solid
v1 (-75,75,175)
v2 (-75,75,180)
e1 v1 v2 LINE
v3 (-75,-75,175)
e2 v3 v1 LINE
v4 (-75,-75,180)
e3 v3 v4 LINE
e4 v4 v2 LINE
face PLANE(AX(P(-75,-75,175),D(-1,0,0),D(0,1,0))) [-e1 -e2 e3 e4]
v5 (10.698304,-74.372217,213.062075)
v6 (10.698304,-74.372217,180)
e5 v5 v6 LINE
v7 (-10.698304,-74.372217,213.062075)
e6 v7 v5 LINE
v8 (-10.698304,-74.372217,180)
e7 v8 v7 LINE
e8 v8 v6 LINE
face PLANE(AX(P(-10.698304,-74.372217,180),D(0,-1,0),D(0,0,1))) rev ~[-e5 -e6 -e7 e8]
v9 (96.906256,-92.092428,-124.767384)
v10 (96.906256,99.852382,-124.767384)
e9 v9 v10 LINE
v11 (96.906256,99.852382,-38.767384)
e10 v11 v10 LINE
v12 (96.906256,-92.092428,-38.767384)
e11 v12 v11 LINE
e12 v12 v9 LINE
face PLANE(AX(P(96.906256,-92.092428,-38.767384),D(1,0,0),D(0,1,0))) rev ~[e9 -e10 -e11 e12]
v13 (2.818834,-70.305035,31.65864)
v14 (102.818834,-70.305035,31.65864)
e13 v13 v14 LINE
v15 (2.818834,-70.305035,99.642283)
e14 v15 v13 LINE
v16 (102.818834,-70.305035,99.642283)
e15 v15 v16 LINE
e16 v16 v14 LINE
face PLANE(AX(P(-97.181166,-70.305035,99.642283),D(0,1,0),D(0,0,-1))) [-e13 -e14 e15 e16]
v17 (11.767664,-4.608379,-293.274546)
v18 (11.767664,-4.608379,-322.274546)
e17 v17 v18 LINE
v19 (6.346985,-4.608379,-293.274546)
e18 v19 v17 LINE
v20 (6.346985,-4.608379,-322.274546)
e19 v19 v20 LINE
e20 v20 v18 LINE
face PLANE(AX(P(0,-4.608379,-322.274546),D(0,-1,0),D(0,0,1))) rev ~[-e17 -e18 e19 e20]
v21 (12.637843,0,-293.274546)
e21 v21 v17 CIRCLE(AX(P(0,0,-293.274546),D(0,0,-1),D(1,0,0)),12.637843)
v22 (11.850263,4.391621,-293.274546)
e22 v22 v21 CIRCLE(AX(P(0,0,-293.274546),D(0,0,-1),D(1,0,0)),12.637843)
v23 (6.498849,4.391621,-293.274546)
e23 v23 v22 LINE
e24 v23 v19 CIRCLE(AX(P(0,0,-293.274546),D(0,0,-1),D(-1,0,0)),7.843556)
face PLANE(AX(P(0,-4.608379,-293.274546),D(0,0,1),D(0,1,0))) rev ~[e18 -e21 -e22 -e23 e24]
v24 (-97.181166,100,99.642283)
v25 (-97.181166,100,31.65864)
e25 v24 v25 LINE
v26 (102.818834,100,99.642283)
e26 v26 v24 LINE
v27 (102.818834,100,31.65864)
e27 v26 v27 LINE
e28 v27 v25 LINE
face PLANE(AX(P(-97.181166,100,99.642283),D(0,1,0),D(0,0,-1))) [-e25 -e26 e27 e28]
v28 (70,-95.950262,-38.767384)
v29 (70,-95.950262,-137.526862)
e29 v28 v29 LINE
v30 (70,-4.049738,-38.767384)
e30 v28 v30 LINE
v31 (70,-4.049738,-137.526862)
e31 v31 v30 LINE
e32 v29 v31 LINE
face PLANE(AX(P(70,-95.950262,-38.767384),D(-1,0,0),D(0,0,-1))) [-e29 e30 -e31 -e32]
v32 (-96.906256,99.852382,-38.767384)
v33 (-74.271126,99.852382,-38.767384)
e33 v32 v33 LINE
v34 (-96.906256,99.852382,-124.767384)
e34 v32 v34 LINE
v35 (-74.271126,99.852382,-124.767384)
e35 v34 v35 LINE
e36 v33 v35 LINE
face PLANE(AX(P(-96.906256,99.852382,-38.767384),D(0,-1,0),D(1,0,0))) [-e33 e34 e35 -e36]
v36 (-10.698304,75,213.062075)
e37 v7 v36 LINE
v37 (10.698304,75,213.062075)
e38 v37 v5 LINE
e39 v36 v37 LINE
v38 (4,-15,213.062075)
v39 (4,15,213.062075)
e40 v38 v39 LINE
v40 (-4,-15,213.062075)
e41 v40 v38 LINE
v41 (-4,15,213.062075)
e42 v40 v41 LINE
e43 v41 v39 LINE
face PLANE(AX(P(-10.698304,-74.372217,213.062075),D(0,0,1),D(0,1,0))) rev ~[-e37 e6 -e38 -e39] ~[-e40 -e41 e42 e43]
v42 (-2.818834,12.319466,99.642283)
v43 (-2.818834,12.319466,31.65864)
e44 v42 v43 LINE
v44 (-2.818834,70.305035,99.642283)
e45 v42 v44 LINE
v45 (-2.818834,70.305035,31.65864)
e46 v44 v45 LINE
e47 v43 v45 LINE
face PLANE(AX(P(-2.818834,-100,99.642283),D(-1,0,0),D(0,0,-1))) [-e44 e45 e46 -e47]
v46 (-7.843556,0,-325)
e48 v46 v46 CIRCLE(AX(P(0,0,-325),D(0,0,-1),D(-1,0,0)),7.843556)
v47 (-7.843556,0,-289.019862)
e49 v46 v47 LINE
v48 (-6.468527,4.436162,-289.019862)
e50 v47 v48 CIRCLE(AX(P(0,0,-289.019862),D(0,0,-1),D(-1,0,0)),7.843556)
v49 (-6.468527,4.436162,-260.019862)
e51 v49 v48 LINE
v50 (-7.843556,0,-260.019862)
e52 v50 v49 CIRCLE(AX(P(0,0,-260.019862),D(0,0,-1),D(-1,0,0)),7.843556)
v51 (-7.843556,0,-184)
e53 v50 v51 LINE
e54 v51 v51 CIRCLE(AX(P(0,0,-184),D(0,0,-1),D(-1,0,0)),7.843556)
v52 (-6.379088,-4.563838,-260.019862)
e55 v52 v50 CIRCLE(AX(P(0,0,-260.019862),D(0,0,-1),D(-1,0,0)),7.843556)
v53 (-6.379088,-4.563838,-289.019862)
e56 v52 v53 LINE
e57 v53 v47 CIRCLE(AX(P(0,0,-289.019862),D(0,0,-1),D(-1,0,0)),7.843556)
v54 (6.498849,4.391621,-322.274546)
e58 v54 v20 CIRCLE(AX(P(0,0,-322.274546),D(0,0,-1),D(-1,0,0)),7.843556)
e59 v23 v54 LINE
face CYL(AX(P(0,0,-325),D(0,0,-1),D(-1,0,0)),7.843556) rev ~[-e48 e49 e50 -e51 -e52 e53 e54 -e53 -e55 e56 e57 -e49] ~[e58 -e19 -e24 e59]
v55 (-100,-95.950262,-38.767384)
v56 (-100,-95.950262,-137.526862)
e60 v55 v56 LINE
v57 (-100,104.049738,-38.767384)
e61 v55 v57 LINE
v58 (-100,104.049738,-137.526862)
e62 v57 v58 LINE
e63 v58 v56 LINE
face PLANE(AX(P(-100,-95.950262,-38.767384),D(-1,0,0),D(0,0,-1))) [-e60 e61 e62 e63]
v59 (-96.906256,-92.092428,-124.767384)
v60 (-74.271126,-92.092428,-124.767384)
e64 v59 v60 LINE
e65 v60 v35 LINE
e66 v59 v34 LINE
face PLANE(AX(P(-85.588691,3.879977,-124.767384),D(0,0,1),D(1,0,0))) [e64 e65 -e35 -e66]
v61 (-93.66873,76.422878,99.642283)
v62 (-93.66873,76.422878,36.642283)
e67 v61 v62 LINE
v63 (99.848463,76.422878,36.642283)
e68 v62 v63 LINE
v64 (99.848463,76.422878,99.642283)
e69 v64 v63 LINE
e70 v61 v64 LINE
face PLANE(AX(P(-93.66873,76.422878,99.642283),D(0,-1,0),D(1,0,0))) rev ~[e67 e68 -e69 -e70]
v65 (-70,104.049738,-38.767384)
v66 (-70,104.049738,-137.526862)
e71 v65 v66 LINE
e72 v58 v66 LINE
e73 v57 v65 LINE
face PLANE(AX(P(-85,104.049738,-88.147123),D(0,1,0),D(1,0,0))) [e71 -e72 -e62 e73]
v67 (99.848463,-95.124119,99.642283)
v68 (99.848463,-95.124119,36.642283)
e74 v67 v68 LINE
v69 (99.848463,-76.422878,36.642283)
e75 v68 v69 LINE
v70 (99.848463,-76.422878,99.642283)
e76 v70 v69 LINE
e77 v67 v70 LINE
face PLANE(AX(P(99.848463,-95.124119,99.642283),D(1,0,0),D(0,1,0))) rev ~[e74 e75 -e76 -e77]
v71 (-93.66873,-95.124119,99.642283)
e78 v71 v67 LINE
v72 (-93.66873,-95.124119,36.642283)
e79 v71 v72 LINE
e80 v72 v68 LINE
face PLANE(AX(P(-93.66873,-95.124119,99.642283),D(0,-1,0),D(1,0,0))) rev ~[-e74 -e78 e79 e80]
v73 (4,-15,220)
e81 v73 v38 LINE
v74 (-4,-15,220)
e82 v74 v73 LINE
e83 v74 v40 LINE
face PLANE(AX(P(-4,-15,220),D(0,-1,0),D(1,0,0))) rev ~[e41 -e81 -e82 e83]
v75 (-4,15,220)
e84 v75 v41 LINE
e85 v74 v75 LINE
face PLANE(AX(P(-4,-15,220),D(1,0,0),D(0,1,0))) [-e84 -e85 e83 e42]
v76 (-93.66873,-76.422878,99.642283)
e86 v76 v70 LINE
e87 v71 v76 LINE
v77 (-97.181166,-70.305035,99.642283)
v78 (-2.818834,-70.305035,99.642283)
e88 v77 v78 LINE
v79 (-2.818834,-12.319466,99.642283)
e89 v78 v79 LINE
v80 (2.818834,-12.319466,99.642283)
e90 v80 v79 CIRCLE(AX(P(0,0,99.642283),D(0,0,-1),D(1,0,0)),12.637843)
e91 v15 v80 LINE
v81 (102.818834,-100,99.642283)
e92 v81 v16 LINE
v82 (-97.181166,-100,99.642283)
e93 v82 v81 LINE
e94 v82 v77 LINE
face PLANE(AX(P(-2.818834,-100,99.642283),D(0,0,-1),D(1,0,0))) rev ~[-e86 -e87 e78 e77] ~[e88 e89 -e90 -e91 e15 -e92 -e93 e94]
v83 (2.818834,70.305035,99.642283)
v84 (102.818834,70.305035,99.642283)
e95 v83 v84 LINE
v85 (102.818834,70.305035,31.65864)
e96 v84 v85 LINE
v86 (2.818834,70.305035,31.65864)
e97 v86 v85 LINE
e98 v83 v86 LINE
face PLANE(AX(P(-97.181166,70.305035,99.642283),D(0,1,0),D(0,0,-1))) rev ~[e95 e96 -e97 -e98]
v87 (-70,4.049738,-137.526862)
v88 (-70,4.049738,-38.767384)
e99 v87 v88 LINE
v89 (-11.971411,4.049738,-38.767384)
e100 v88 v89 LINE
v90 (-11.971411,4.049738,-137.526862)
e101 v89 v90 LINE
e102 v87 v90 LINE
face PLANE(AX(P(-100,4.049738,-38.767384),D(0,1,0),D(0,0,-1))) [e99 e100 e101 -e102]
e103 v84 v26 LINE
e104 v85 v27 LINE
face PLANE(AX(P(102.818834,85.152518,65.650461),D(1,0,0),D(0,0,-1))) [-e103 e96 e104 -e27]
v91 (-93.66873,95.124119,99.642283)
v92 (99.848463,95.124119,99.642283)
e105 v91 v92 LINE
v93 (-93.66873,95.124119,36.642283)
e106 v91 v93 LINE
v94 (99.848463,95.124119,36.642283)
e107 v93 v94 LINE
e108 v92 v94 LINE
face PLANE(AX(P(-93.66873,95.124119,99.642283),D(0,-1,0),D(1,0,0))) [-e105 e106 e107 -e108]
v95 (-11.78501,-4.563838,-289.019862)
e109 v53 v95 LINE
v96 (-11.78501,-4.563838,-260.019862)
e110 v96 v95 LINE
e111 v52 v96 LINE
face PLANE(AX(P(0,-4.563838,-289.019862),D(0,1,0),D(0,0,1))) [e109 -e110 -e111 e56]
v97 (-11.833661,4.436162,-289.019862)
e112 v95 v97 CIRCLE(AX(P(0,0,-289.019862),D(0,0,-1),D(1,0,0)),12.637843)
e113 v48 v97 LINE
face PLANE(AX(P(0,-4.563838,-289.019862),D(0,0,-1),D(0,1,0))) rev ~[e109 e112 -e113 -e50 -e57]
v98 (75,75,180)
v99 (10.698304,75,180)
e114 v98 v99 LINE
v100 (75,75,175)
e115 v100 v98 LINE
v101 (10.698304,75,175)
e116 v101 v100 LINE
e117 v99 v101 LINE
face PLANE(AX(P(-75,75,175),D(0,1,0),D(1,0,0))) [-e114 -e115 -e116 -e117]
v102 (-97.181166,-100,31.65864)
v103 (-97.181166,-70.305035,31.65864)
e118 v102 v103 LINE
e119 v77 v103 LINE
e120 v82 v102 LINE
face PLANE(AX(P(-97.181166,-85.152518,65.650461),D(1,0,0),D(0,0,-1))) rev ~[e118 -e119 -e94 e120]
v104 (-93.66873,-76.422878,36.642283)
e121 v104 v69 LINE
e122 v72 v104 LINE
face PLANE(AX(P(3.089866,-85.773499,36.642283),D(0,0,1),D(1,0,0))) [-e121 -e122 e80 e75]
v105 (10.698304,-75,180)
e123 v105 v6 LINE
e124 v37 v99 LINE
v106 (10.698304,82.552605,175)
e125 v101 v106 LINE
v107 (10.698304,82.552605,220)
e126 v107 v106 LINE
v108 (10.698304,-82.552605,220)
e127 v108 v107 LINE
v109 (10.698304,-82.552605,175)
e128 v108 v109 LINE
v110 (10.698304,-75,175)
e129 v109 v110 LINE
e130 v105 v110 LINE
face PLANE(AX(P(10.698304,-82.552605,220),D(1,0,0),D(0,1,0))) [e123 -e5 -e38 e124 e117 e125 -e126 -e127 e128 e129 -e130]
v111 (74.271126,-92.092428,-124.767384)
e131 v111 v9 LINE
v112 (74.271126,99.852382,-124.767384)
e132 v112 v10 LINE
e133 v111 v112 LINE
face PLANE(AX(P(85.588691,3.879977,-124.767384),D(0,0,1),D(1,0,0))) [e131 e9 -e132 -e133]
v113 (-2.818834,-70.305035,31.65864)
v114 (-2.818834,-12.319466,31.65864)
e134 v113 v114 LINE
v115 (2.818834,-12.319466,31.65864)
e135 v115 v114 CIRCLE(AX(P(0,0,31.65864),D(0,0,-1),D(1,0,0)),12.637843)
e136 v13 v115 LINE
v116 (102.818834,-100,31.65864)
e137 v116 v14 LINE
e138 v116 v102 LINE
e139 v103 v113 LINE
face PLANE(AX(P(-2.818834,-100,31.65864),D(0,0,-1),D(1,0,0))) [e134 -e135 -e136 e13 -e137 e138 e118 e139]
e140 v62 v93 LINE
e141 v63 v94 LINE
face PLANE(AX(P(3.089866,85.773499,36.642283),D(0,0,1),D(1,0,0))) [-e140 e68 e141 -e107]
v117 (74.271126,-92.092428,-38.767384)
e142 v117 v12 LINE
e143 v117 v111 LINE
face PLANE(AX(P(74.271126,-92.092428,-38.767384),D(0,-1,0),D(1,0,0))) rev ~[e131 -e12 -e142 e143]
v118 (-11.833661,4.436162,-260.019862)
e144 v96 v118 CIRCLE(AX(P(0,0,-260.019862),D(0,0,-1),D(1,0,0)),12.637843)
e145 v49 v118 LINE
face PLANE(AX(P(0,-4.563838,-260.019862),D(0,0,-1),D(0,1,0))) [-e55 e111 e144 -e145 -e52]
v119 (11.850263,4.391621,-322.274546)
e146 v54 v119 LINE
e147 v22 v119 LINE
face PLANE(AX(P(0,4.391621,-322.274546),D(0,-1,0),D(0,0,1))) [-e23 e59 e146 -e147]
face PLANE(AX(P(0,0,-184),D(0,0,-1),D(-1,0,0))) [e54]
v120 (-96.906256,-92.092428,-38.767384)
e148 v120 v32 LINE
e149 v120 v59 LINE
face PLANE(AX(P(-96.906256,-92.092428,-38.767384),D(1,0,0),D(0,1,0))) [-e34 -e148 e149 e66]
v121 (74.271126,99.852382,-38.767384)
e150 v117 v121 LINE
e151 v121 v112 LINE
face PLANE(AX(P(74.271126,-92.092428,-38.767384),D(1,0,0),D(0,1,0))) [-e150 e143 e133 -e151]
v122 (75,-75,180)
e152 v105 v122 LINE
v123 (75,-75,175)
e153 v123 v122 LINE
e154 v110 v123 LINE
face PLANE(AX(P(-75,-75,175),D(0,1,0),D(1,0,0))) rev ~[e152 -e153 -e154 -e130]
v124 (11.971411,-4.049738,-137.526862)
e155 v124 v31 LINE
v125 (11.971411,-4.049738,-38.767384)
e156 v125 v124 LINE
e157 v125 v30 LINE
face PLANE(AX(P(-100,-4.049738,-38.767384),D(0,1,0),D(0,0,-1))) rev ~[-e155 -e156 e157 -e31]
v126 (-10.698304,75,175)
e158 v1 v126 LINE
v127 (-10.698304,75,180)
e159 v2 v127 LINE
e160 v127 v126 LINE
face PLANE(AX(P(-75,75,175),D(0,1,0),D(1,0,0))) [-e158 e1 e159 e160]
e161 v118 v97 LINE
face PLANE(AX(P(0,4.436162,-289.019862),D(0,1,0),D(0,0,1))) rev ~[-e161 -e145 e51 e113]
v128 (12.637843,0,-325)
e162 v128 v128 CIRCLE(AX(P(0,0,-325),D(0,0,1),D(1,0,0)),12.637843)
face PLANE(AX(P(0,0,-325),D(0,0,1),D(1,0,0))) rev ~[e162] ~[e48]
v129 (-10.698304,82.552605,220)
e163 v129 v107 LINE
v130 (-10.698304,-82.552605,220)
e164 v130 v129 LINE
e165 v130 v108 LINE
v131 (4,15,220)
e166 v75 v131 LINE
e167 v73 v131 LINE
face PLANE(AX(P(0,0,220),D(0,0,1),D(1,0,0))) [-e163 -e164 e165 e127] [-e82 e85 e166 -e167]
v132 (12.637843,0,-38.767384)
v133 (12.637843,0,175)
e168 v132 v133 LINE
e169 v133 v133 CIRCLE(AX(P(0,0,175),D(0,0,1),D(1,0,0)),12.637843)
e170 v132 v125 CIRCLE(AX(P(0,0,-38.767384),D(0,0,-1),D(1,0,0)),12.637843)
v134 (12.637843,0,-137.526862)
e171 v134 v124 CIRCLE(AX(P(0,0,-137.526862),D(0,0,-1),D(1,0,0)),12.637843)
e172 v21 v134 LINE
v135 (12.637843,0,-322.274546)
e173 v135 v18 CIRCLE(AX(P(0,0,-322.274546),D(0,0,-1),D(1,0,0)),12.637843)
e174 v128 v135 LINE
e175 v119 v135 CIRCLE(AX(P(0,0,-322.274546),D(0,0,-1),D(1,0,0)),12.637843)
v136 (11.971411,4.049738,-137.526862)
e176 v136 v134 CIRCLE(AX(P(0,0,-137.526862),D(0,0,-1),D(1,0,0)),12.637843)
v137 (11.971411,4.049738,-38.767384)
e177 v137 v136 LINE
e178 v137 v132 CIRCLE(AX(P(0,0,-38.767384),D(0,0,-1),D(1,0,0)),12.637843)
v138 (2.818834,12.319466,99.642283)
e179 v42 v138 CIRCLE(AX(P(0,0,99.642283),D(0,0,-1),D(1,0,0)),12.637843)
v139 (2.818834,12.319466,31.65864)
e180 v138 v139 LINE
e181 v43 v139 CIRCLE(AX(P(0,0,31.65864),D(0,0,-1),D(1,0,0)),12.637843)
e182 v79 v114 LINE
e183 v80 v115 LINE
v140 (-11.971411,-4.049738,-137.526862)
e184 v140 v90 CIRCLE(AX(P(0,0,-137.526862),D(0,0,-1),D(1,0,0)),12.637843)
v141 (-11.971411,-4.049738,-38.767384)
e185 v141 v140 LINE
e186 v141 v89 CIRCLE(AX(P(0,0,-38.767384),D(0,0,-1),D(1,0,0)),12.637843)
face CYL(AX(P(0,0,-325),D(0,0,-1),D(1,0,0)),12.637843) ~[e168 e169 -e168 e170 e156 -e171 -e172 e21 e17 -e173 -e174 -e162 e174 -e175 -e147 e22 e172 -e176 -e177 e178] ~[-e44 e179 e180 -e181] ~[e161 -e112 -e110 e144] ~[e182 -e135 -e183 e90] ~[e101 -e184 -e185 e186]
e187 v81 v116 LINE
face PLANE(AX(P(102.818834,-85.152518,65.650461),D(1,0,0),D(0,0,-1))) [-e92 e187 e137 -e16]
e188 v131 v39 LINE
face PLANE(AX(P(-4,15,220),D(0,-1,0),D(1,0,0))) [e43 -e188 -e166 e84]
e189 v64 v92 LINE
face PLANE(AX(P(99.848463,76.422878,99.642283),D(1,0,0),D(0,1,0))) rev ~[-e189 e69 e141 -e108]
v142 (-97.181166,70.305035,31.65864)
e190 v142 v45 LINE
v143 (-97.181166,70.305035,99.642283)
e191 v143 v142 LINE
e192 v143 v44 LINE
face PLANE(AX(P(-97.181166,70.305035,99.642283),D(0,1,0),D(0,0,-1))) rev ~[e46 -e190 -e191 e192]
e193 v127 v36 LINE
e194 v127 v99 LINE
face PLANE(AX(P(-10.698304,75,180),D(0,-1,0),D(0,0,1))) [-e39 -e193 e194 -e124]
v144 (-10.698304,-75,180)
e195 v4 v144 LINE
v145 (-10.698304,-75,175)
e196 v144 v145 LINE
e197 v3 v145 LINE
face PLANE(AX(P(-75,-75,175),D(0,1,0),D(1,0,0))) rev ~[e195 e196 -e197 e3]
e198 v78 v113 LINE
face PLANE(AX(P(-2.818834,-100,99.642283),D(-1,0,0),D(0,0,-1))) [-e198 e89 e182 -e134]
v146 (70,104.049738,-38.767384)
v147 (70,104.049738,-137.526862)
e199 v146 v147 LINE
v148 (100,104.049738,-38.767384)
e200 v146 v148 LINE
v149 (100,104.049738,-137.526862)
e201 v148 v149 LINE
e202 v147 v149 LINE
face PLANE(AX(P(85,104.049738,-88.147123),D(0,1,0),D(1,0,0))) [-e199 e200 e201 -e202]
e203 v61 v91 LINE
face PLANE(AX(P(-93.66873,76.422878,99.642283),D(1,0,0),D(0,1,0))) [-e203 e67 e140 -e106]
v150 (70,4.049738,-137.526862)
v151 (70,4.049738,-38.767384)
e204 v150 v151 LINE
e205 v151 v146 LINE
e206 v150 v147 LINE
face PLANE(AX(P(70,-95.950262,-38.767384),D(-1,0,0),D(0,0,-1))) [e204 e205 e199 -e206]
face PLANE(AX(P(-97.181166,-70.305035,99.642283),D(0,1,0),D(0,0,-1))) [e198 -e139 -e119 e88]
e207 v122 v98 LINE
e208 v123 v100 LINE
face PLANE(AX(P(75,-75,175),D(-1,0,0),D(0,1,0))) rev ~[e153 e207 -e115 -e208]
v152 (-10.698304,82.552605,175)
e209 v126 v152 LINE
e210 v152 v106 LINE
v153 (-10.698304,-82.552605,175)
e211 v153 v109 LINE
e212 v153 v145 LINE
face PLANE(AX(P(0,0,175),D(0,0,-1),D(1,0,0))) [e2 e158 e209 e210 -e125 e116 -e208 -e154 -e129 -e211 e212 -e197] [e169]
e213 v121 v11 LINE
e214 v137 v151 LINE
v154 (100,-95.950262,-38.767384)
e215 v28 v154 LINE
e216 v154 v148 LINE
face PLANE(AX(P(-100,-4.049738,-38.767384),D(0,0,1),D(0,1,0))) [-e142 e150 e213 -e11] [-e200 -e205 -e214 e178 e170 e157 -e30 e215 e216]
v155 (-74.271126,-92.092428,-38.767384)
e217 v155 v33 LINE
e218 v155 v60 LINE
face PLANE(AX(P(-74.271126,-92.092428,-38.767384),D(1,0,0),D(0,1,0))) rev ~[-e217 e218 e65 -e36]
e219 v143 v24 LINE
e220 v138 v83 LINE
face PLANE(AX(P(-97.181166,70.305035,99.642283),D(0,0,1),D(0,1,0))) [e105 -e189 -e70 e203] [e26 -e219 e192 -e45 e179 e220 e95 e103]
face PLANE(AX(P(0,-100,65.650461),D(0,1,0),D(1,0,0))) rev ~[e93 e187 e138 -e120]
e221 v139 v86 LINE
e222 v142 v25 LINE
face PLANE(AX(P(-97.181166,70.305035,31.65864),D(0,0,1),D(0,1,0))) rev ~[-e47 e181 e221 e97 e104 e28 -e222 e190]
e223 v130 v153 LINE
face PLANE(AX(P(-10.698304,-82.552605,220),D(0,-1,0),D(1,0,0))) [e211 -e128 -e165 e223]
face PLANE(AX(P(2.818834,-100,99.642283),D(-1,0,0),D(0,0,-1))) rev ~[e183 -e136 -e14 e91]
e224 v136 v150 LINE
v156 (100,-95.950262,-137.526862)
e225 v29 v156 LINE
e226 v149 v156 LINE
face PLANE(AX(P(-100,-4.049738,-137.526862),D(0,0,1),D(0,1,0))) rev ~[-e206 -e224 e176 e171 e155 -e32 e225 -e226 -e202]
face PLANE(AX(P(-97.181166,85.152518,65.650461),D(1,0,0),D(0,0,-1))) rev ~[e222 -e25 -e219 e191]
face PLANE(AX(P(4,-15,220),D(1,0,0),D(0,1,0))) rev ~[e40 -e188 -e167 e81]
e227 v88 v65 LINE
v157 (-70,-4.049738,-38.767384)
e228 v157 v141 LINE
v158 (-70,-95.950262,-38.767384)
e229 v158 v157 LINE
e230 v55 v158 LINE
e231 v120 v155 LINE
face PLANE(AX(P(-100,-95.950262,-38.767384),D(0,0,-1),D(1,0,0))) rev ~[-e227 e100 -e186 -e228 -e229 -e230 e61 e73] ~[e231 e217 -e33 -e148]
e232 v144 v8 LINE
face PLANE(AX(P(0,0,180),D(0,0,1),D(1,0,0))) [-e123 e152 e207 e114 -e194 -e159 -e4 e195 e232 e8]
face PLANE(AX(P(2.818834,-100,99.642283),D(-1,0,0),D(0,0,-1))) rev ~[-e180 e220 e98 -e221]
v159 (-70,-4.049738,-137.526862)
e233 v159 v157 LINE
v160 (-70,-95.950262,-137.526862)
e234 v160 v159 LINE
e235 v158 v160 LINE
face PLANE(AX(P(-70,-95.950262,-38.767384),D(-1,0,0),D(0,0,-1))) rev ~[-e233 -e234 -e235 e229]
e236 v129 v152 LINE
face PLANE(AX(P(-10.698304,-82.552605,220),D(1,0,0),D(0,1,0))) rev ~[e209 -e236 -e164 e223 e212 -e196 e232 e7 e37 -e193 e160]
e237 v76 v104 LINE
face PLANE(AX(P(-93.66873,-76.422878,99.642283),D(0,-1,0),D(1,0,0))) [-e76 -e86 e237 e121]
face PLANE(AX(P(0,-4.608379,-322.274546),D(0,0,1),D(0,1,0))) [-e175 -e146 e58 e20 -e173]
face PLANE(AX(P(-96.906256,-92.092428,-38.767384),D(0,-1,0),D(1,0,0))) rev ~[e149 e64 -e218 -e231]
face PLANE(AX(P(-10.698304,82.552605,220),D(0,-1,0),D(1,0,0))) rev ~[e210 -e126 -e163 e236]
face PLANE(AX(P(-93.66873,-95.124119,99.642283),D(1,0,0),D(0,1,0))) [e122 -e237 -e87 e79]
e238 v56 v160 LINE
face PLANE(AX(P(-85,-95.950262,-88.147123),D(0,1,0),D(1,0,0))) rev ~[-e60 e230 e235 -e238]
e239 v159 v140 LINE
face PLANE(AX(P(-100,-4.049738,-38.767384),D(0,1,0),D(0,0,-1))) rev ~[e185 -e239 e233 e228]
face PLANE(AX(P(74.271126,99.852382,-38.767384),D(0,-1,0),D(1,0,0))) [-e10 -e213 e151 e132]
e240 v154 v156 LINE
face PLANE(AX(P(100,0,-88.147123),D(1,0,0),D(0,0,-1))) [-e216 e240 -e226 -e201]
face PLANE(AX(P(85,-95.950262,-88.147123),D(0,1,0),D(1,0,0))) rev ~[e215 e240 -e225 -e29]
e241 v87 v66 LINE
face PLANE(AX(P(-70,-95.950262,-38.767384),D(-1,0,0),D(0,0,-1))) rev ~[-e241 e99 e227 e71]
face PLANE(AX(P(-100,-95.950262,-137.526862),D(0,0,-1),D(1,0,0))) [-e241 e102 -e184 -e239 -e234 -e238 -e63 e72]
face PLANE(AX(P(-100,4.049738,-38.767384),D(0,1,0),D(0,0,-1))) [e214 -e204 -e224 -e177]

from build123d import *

# Parameters (mm, degrees)
BOSS_EXTRUDE1_DEPTH      = 175
BOSS_EXTRUDE1_DEPTH_BACK = 325
SKETCH1_R                = 12.637842641
BOSS_EXTRUDE2_DEPTH      = 100
BOSS_EXTRUDE2_DEPTH_BACK = 100
SKETCH2_W                = 5.637667912
SKETCH2_H                = 67.983642473
BOSS_EXTRUDE3_DEPTH      = 100
BOSS_EXTRUDE3_DEPTH_BACK = 100
SKETCH3_W                = 67.983642473
SKETCH3_H                = 29.694964858
SKETCH4_W                = 193.517193279
SKETCH4_H                = 18.701241368
CUT_EXTRUDE1_DEPTH       = 63
BOSS_EXTRUDE4_DEPTH      = 100
BOSS_EXTRUDE4_DEPTH_BACK = 100
SKETCH5_W                = 98.759478103
SKETCH5_H                = 8.09947515
BOSS_EXTRUDE5_DEPTH      = 100
BOSS_EXTRUDE5_DEPTH_BACK = 100
SKETCH6_W                = 30
SKETCH6_H                = 98.759478103
SKETCH7_W                = 22.635129566
SKETCH7_H                = 191.944809052
CUT_EXTRUDE2_DEPTH       = 86
SKETCH8_W                = 150
SKETCH8_H                = 150
BOSS_EXTRUDE6_DEPTH      = 5
BOSS_EXTRUDE7_REACH      = 566.29
SKETCH10_W               = 21.396607864
SKETCH10_H               = 165.105210234
SKETCH11_W               = 33.062075252
SKETCH11_H               = 149.372216897
CUT_EXTRUDE3_DEPTH       = 40
SKETCH12_W               = 8
SKETCH12_H               = 30
CUT_EXTRUDE4_DEPTH       = 30
SKETCH13_R               = 7.843556452
CUT_EXTRUDE5_DEPTH       = 141
SKETCH14_W               = 29
SKETCH14_H               = 9
CUT_EXTRUDE6_DEPTH       = 141
SKETCH15_W               = 29
SKETCH15_H               = 9
CUT_EXTRUDE7_DEPTH       = 83


with BuildPart() as part:
    # Sketch1 → Boss-Extrude1 (new, two sides: drawn at the far end of the back side and taken through both)
    with BuildSketch(Plane.XY.offset(-BOSS_EXTRUDE1_DEPTH_BACK)):
        Circle(SKETCH1_R)
    extrude(amount=BOSS_EXTRUDE1_DEPTH + BOSS_EXTRUDE1_DEPTH_BACK)

    # Sketch2 → Boss-Extrude2 (add, two sides: drawn at the far end of the back side and taken through both)
    with BuildSketch(Plane(origin=(0, 0, 0), x_dir=(1, 0, 0), z_dir=(0, 1, 0)).offset(-BOSS_EXTRUDE2_DEPTH_BACK)):
        with Locations((0, -65.65046148)):
            Rectangle(SKETCH2_W, SKETCH2_H)
    extrude(amount=BOSS_EXTRUDE2_DEPTH + BOSS_EXTRUDE2_DEPTH_BACK)

    # Sketch3 → Boss-Extrude3 (add, two sides: drawn at the far end of the back side and taken through both)
    with BuildSketch(Plane(origin=(2.818833956, 0, 0), x_dir=(0, 0, -1), z_dir=(1, 0, 0)).offset(-BOSS_EXTRUDE3_DEPTH_BACK)):
        with Locations((-65.65046148, 85.152517571)):
            Rectangle(SKETCH3_W, SKETCH3_H)
        with Locations((-65.65046148, -85.152517571)):
            Rectangle(SKETCH3_W, SKETCH3_H)
    extrude(amount=BOSS_EXTRUDE3_DEPTH + BOSS_EXTRUDE3_DEPTH_BACK)

    # Sketch4 → Cut-Extrude1 (cut)
    with BuildSketch(Plane.XY.offset(99.642282717)):
        with Locations((3.08986644, 85.773498781)):
            Rectangle(SKETCH4_W, SKETCH4_H)
        with Locations((3.08986644, -85.773498781)):
            Rectangle(SKETCH4_W, SKETCH4_H)
    extrude(amount=-CUT_EXTRUDE1_DEPTH, mode=Mode.SUBTRACT)

    # Sketch5 → Boss-Extrude4 (add, two sides: drawn at the far end of the back side and taken through both)
    with BuildSketch(Plane(origin=(0, 0, 0), x_dir=(0, 0, -1), z_dir=(1, 0, 0)).offset(-BOSS_EXTRUDE4_DEPTH_BACK)):
        with Locations((88.14712325, 0)):
            Rectangle(SKETCH5_W, SKETCH5_H)
    extrude(amount=BOSS_EXTRUDE4_DEPTH + BOSS_EXTRUDE4_DEPTH_BACK)

    # Sketch6 → Boss-Extrude5 (add, two sides: drawn at the far end of the back side and taken through both)
    with BuildSketch(Plane(origin=(0, 4.049737575, 0), x_dir=(1, 0, 0), z_dir=(0, 1, 0)).offset(-BOSS_EXTRUDE5_DEPTH_BACK)):
        with Locations((-85, 88.14712325)):
            Rectangle(SKETCH6_W, SKETCH6_H)
        with Locations((85, 88.14712325)):
            Rectangle(SKETCH6_W, SKETCH6_H)
    extrude(amount=BOSS_EXTRUDE5_DEPTH + BOSS_EXTRUDE5_DEPTH_BACK)

    # Sketch7 → Cut-Extrude2 (cut)
    with BuildSketch(Plane.XY.offset(-38.767384198)):
        with Locations((-85.588690937, 3.879977002)):
            Rectangle(SKETCH7_W, SKETCH7_H)
        with Locations((85.588690937, 3.879977002)):
            Rectangle(SKETCH7_W, SKETCH7_H)
    extrude(amount=-CUT_EXTRUDE2_DEPTH, mode=Mode.SUBTRACT)

    # Sketch8 → Boss-Extrude6 (add)
    with BuildSketch(Plane.XY.offset(175)):
        Rectangle(SKETCH8_W, SKETCH8_H)
    extrude(amount=BOSS_EXTRUDE6_DEPTH)

    # Boss-Extrude7: up to this face of the body (flat: up to its plane)
    boss_extrude7_end = Plane(part.part.faces().sort_by_distance((0, -72.878679656, 175))[0])
    # Sketch10 → Boss-Extrude7 (add, up to the picked face)
    with BuildSketch(Plane.XY.offset(220), mode=Mode.PRIVATE) as boss_extrude7_sk1:
        Rectangle(SKETCH10_W, SKETCH10_H)
    boss_extrude7_tool1 = split(extrude(boss_extrude7_sk1.sketch, amount=-BOSS_EXTRUDE7_REACH, mode=Mode.PRIVATE), bisect_by=boss_extrude7_end, keep=Keep.BOTH, mode=Mode.PRIVATE)
    add(boss_extrude7_tool1.solids().sort_by(Axis((0, 0, 220), (0, 0, -1)))[0])

    # Sketch11 → Cut-Extrude3 (cut)
    with BuildSketch(Plane.ZY.offset(10.698303932)):
        with Locations((196.531037626, 0.313891551)):
            Rectangle(SKETCH11_W, SKETCH11_H)
    extrude(amount=-CUT_EXTRUDE3_DEPTH, mode=Mode.SUBTRACT)

    # Sketch12 → Cut-Extrude4 (cut)
    with BuildSketch(Plane.XY.offset(220)):
        Rectangle(SKETCH12_W, SKETCH12_H)
    extrude(amount=-CUT_EXTRUDE4_DEPTH, mode=Mode.SUBTRACT)

    # Sketch13 → Cut-Extrude5 (cut)
    with BuildSketch(Plane(origin=(0, 0, -325), x_dir=(-1, 0, 0), z_dir=(0, 0, -1))):
        Circle(SKETCH13_R)
    extrude(amount=-CUT_EXTRUDE5_DEPTH, mode=Mode.SUBTRACT)

    # Sketch14 → Cut-Extrude6 (cut)
    with BuildSketch(Plane.ZY):
        with Locations((-307.774546231, -0.108379214)):
            Rectangle(SKETCH14_W, SKETCH14_H)
    extrude(amount=-CUT_EXTRUDE6_DEPTH, mode=Mode.SUBTRACT)

    # Sketch15 → Cut-Extrude7 (cut)
    with BuildSketch(Plane.ZY):
        with Locations((-274.519862271, -0.063837762)):
            Rectangle(SKETCH15_W, SKETCH15_H)
    extrude(amount=CUT_EXTRUDE7_DEPTH, mode=Mode.SUBTRACT)


solid = part.part
